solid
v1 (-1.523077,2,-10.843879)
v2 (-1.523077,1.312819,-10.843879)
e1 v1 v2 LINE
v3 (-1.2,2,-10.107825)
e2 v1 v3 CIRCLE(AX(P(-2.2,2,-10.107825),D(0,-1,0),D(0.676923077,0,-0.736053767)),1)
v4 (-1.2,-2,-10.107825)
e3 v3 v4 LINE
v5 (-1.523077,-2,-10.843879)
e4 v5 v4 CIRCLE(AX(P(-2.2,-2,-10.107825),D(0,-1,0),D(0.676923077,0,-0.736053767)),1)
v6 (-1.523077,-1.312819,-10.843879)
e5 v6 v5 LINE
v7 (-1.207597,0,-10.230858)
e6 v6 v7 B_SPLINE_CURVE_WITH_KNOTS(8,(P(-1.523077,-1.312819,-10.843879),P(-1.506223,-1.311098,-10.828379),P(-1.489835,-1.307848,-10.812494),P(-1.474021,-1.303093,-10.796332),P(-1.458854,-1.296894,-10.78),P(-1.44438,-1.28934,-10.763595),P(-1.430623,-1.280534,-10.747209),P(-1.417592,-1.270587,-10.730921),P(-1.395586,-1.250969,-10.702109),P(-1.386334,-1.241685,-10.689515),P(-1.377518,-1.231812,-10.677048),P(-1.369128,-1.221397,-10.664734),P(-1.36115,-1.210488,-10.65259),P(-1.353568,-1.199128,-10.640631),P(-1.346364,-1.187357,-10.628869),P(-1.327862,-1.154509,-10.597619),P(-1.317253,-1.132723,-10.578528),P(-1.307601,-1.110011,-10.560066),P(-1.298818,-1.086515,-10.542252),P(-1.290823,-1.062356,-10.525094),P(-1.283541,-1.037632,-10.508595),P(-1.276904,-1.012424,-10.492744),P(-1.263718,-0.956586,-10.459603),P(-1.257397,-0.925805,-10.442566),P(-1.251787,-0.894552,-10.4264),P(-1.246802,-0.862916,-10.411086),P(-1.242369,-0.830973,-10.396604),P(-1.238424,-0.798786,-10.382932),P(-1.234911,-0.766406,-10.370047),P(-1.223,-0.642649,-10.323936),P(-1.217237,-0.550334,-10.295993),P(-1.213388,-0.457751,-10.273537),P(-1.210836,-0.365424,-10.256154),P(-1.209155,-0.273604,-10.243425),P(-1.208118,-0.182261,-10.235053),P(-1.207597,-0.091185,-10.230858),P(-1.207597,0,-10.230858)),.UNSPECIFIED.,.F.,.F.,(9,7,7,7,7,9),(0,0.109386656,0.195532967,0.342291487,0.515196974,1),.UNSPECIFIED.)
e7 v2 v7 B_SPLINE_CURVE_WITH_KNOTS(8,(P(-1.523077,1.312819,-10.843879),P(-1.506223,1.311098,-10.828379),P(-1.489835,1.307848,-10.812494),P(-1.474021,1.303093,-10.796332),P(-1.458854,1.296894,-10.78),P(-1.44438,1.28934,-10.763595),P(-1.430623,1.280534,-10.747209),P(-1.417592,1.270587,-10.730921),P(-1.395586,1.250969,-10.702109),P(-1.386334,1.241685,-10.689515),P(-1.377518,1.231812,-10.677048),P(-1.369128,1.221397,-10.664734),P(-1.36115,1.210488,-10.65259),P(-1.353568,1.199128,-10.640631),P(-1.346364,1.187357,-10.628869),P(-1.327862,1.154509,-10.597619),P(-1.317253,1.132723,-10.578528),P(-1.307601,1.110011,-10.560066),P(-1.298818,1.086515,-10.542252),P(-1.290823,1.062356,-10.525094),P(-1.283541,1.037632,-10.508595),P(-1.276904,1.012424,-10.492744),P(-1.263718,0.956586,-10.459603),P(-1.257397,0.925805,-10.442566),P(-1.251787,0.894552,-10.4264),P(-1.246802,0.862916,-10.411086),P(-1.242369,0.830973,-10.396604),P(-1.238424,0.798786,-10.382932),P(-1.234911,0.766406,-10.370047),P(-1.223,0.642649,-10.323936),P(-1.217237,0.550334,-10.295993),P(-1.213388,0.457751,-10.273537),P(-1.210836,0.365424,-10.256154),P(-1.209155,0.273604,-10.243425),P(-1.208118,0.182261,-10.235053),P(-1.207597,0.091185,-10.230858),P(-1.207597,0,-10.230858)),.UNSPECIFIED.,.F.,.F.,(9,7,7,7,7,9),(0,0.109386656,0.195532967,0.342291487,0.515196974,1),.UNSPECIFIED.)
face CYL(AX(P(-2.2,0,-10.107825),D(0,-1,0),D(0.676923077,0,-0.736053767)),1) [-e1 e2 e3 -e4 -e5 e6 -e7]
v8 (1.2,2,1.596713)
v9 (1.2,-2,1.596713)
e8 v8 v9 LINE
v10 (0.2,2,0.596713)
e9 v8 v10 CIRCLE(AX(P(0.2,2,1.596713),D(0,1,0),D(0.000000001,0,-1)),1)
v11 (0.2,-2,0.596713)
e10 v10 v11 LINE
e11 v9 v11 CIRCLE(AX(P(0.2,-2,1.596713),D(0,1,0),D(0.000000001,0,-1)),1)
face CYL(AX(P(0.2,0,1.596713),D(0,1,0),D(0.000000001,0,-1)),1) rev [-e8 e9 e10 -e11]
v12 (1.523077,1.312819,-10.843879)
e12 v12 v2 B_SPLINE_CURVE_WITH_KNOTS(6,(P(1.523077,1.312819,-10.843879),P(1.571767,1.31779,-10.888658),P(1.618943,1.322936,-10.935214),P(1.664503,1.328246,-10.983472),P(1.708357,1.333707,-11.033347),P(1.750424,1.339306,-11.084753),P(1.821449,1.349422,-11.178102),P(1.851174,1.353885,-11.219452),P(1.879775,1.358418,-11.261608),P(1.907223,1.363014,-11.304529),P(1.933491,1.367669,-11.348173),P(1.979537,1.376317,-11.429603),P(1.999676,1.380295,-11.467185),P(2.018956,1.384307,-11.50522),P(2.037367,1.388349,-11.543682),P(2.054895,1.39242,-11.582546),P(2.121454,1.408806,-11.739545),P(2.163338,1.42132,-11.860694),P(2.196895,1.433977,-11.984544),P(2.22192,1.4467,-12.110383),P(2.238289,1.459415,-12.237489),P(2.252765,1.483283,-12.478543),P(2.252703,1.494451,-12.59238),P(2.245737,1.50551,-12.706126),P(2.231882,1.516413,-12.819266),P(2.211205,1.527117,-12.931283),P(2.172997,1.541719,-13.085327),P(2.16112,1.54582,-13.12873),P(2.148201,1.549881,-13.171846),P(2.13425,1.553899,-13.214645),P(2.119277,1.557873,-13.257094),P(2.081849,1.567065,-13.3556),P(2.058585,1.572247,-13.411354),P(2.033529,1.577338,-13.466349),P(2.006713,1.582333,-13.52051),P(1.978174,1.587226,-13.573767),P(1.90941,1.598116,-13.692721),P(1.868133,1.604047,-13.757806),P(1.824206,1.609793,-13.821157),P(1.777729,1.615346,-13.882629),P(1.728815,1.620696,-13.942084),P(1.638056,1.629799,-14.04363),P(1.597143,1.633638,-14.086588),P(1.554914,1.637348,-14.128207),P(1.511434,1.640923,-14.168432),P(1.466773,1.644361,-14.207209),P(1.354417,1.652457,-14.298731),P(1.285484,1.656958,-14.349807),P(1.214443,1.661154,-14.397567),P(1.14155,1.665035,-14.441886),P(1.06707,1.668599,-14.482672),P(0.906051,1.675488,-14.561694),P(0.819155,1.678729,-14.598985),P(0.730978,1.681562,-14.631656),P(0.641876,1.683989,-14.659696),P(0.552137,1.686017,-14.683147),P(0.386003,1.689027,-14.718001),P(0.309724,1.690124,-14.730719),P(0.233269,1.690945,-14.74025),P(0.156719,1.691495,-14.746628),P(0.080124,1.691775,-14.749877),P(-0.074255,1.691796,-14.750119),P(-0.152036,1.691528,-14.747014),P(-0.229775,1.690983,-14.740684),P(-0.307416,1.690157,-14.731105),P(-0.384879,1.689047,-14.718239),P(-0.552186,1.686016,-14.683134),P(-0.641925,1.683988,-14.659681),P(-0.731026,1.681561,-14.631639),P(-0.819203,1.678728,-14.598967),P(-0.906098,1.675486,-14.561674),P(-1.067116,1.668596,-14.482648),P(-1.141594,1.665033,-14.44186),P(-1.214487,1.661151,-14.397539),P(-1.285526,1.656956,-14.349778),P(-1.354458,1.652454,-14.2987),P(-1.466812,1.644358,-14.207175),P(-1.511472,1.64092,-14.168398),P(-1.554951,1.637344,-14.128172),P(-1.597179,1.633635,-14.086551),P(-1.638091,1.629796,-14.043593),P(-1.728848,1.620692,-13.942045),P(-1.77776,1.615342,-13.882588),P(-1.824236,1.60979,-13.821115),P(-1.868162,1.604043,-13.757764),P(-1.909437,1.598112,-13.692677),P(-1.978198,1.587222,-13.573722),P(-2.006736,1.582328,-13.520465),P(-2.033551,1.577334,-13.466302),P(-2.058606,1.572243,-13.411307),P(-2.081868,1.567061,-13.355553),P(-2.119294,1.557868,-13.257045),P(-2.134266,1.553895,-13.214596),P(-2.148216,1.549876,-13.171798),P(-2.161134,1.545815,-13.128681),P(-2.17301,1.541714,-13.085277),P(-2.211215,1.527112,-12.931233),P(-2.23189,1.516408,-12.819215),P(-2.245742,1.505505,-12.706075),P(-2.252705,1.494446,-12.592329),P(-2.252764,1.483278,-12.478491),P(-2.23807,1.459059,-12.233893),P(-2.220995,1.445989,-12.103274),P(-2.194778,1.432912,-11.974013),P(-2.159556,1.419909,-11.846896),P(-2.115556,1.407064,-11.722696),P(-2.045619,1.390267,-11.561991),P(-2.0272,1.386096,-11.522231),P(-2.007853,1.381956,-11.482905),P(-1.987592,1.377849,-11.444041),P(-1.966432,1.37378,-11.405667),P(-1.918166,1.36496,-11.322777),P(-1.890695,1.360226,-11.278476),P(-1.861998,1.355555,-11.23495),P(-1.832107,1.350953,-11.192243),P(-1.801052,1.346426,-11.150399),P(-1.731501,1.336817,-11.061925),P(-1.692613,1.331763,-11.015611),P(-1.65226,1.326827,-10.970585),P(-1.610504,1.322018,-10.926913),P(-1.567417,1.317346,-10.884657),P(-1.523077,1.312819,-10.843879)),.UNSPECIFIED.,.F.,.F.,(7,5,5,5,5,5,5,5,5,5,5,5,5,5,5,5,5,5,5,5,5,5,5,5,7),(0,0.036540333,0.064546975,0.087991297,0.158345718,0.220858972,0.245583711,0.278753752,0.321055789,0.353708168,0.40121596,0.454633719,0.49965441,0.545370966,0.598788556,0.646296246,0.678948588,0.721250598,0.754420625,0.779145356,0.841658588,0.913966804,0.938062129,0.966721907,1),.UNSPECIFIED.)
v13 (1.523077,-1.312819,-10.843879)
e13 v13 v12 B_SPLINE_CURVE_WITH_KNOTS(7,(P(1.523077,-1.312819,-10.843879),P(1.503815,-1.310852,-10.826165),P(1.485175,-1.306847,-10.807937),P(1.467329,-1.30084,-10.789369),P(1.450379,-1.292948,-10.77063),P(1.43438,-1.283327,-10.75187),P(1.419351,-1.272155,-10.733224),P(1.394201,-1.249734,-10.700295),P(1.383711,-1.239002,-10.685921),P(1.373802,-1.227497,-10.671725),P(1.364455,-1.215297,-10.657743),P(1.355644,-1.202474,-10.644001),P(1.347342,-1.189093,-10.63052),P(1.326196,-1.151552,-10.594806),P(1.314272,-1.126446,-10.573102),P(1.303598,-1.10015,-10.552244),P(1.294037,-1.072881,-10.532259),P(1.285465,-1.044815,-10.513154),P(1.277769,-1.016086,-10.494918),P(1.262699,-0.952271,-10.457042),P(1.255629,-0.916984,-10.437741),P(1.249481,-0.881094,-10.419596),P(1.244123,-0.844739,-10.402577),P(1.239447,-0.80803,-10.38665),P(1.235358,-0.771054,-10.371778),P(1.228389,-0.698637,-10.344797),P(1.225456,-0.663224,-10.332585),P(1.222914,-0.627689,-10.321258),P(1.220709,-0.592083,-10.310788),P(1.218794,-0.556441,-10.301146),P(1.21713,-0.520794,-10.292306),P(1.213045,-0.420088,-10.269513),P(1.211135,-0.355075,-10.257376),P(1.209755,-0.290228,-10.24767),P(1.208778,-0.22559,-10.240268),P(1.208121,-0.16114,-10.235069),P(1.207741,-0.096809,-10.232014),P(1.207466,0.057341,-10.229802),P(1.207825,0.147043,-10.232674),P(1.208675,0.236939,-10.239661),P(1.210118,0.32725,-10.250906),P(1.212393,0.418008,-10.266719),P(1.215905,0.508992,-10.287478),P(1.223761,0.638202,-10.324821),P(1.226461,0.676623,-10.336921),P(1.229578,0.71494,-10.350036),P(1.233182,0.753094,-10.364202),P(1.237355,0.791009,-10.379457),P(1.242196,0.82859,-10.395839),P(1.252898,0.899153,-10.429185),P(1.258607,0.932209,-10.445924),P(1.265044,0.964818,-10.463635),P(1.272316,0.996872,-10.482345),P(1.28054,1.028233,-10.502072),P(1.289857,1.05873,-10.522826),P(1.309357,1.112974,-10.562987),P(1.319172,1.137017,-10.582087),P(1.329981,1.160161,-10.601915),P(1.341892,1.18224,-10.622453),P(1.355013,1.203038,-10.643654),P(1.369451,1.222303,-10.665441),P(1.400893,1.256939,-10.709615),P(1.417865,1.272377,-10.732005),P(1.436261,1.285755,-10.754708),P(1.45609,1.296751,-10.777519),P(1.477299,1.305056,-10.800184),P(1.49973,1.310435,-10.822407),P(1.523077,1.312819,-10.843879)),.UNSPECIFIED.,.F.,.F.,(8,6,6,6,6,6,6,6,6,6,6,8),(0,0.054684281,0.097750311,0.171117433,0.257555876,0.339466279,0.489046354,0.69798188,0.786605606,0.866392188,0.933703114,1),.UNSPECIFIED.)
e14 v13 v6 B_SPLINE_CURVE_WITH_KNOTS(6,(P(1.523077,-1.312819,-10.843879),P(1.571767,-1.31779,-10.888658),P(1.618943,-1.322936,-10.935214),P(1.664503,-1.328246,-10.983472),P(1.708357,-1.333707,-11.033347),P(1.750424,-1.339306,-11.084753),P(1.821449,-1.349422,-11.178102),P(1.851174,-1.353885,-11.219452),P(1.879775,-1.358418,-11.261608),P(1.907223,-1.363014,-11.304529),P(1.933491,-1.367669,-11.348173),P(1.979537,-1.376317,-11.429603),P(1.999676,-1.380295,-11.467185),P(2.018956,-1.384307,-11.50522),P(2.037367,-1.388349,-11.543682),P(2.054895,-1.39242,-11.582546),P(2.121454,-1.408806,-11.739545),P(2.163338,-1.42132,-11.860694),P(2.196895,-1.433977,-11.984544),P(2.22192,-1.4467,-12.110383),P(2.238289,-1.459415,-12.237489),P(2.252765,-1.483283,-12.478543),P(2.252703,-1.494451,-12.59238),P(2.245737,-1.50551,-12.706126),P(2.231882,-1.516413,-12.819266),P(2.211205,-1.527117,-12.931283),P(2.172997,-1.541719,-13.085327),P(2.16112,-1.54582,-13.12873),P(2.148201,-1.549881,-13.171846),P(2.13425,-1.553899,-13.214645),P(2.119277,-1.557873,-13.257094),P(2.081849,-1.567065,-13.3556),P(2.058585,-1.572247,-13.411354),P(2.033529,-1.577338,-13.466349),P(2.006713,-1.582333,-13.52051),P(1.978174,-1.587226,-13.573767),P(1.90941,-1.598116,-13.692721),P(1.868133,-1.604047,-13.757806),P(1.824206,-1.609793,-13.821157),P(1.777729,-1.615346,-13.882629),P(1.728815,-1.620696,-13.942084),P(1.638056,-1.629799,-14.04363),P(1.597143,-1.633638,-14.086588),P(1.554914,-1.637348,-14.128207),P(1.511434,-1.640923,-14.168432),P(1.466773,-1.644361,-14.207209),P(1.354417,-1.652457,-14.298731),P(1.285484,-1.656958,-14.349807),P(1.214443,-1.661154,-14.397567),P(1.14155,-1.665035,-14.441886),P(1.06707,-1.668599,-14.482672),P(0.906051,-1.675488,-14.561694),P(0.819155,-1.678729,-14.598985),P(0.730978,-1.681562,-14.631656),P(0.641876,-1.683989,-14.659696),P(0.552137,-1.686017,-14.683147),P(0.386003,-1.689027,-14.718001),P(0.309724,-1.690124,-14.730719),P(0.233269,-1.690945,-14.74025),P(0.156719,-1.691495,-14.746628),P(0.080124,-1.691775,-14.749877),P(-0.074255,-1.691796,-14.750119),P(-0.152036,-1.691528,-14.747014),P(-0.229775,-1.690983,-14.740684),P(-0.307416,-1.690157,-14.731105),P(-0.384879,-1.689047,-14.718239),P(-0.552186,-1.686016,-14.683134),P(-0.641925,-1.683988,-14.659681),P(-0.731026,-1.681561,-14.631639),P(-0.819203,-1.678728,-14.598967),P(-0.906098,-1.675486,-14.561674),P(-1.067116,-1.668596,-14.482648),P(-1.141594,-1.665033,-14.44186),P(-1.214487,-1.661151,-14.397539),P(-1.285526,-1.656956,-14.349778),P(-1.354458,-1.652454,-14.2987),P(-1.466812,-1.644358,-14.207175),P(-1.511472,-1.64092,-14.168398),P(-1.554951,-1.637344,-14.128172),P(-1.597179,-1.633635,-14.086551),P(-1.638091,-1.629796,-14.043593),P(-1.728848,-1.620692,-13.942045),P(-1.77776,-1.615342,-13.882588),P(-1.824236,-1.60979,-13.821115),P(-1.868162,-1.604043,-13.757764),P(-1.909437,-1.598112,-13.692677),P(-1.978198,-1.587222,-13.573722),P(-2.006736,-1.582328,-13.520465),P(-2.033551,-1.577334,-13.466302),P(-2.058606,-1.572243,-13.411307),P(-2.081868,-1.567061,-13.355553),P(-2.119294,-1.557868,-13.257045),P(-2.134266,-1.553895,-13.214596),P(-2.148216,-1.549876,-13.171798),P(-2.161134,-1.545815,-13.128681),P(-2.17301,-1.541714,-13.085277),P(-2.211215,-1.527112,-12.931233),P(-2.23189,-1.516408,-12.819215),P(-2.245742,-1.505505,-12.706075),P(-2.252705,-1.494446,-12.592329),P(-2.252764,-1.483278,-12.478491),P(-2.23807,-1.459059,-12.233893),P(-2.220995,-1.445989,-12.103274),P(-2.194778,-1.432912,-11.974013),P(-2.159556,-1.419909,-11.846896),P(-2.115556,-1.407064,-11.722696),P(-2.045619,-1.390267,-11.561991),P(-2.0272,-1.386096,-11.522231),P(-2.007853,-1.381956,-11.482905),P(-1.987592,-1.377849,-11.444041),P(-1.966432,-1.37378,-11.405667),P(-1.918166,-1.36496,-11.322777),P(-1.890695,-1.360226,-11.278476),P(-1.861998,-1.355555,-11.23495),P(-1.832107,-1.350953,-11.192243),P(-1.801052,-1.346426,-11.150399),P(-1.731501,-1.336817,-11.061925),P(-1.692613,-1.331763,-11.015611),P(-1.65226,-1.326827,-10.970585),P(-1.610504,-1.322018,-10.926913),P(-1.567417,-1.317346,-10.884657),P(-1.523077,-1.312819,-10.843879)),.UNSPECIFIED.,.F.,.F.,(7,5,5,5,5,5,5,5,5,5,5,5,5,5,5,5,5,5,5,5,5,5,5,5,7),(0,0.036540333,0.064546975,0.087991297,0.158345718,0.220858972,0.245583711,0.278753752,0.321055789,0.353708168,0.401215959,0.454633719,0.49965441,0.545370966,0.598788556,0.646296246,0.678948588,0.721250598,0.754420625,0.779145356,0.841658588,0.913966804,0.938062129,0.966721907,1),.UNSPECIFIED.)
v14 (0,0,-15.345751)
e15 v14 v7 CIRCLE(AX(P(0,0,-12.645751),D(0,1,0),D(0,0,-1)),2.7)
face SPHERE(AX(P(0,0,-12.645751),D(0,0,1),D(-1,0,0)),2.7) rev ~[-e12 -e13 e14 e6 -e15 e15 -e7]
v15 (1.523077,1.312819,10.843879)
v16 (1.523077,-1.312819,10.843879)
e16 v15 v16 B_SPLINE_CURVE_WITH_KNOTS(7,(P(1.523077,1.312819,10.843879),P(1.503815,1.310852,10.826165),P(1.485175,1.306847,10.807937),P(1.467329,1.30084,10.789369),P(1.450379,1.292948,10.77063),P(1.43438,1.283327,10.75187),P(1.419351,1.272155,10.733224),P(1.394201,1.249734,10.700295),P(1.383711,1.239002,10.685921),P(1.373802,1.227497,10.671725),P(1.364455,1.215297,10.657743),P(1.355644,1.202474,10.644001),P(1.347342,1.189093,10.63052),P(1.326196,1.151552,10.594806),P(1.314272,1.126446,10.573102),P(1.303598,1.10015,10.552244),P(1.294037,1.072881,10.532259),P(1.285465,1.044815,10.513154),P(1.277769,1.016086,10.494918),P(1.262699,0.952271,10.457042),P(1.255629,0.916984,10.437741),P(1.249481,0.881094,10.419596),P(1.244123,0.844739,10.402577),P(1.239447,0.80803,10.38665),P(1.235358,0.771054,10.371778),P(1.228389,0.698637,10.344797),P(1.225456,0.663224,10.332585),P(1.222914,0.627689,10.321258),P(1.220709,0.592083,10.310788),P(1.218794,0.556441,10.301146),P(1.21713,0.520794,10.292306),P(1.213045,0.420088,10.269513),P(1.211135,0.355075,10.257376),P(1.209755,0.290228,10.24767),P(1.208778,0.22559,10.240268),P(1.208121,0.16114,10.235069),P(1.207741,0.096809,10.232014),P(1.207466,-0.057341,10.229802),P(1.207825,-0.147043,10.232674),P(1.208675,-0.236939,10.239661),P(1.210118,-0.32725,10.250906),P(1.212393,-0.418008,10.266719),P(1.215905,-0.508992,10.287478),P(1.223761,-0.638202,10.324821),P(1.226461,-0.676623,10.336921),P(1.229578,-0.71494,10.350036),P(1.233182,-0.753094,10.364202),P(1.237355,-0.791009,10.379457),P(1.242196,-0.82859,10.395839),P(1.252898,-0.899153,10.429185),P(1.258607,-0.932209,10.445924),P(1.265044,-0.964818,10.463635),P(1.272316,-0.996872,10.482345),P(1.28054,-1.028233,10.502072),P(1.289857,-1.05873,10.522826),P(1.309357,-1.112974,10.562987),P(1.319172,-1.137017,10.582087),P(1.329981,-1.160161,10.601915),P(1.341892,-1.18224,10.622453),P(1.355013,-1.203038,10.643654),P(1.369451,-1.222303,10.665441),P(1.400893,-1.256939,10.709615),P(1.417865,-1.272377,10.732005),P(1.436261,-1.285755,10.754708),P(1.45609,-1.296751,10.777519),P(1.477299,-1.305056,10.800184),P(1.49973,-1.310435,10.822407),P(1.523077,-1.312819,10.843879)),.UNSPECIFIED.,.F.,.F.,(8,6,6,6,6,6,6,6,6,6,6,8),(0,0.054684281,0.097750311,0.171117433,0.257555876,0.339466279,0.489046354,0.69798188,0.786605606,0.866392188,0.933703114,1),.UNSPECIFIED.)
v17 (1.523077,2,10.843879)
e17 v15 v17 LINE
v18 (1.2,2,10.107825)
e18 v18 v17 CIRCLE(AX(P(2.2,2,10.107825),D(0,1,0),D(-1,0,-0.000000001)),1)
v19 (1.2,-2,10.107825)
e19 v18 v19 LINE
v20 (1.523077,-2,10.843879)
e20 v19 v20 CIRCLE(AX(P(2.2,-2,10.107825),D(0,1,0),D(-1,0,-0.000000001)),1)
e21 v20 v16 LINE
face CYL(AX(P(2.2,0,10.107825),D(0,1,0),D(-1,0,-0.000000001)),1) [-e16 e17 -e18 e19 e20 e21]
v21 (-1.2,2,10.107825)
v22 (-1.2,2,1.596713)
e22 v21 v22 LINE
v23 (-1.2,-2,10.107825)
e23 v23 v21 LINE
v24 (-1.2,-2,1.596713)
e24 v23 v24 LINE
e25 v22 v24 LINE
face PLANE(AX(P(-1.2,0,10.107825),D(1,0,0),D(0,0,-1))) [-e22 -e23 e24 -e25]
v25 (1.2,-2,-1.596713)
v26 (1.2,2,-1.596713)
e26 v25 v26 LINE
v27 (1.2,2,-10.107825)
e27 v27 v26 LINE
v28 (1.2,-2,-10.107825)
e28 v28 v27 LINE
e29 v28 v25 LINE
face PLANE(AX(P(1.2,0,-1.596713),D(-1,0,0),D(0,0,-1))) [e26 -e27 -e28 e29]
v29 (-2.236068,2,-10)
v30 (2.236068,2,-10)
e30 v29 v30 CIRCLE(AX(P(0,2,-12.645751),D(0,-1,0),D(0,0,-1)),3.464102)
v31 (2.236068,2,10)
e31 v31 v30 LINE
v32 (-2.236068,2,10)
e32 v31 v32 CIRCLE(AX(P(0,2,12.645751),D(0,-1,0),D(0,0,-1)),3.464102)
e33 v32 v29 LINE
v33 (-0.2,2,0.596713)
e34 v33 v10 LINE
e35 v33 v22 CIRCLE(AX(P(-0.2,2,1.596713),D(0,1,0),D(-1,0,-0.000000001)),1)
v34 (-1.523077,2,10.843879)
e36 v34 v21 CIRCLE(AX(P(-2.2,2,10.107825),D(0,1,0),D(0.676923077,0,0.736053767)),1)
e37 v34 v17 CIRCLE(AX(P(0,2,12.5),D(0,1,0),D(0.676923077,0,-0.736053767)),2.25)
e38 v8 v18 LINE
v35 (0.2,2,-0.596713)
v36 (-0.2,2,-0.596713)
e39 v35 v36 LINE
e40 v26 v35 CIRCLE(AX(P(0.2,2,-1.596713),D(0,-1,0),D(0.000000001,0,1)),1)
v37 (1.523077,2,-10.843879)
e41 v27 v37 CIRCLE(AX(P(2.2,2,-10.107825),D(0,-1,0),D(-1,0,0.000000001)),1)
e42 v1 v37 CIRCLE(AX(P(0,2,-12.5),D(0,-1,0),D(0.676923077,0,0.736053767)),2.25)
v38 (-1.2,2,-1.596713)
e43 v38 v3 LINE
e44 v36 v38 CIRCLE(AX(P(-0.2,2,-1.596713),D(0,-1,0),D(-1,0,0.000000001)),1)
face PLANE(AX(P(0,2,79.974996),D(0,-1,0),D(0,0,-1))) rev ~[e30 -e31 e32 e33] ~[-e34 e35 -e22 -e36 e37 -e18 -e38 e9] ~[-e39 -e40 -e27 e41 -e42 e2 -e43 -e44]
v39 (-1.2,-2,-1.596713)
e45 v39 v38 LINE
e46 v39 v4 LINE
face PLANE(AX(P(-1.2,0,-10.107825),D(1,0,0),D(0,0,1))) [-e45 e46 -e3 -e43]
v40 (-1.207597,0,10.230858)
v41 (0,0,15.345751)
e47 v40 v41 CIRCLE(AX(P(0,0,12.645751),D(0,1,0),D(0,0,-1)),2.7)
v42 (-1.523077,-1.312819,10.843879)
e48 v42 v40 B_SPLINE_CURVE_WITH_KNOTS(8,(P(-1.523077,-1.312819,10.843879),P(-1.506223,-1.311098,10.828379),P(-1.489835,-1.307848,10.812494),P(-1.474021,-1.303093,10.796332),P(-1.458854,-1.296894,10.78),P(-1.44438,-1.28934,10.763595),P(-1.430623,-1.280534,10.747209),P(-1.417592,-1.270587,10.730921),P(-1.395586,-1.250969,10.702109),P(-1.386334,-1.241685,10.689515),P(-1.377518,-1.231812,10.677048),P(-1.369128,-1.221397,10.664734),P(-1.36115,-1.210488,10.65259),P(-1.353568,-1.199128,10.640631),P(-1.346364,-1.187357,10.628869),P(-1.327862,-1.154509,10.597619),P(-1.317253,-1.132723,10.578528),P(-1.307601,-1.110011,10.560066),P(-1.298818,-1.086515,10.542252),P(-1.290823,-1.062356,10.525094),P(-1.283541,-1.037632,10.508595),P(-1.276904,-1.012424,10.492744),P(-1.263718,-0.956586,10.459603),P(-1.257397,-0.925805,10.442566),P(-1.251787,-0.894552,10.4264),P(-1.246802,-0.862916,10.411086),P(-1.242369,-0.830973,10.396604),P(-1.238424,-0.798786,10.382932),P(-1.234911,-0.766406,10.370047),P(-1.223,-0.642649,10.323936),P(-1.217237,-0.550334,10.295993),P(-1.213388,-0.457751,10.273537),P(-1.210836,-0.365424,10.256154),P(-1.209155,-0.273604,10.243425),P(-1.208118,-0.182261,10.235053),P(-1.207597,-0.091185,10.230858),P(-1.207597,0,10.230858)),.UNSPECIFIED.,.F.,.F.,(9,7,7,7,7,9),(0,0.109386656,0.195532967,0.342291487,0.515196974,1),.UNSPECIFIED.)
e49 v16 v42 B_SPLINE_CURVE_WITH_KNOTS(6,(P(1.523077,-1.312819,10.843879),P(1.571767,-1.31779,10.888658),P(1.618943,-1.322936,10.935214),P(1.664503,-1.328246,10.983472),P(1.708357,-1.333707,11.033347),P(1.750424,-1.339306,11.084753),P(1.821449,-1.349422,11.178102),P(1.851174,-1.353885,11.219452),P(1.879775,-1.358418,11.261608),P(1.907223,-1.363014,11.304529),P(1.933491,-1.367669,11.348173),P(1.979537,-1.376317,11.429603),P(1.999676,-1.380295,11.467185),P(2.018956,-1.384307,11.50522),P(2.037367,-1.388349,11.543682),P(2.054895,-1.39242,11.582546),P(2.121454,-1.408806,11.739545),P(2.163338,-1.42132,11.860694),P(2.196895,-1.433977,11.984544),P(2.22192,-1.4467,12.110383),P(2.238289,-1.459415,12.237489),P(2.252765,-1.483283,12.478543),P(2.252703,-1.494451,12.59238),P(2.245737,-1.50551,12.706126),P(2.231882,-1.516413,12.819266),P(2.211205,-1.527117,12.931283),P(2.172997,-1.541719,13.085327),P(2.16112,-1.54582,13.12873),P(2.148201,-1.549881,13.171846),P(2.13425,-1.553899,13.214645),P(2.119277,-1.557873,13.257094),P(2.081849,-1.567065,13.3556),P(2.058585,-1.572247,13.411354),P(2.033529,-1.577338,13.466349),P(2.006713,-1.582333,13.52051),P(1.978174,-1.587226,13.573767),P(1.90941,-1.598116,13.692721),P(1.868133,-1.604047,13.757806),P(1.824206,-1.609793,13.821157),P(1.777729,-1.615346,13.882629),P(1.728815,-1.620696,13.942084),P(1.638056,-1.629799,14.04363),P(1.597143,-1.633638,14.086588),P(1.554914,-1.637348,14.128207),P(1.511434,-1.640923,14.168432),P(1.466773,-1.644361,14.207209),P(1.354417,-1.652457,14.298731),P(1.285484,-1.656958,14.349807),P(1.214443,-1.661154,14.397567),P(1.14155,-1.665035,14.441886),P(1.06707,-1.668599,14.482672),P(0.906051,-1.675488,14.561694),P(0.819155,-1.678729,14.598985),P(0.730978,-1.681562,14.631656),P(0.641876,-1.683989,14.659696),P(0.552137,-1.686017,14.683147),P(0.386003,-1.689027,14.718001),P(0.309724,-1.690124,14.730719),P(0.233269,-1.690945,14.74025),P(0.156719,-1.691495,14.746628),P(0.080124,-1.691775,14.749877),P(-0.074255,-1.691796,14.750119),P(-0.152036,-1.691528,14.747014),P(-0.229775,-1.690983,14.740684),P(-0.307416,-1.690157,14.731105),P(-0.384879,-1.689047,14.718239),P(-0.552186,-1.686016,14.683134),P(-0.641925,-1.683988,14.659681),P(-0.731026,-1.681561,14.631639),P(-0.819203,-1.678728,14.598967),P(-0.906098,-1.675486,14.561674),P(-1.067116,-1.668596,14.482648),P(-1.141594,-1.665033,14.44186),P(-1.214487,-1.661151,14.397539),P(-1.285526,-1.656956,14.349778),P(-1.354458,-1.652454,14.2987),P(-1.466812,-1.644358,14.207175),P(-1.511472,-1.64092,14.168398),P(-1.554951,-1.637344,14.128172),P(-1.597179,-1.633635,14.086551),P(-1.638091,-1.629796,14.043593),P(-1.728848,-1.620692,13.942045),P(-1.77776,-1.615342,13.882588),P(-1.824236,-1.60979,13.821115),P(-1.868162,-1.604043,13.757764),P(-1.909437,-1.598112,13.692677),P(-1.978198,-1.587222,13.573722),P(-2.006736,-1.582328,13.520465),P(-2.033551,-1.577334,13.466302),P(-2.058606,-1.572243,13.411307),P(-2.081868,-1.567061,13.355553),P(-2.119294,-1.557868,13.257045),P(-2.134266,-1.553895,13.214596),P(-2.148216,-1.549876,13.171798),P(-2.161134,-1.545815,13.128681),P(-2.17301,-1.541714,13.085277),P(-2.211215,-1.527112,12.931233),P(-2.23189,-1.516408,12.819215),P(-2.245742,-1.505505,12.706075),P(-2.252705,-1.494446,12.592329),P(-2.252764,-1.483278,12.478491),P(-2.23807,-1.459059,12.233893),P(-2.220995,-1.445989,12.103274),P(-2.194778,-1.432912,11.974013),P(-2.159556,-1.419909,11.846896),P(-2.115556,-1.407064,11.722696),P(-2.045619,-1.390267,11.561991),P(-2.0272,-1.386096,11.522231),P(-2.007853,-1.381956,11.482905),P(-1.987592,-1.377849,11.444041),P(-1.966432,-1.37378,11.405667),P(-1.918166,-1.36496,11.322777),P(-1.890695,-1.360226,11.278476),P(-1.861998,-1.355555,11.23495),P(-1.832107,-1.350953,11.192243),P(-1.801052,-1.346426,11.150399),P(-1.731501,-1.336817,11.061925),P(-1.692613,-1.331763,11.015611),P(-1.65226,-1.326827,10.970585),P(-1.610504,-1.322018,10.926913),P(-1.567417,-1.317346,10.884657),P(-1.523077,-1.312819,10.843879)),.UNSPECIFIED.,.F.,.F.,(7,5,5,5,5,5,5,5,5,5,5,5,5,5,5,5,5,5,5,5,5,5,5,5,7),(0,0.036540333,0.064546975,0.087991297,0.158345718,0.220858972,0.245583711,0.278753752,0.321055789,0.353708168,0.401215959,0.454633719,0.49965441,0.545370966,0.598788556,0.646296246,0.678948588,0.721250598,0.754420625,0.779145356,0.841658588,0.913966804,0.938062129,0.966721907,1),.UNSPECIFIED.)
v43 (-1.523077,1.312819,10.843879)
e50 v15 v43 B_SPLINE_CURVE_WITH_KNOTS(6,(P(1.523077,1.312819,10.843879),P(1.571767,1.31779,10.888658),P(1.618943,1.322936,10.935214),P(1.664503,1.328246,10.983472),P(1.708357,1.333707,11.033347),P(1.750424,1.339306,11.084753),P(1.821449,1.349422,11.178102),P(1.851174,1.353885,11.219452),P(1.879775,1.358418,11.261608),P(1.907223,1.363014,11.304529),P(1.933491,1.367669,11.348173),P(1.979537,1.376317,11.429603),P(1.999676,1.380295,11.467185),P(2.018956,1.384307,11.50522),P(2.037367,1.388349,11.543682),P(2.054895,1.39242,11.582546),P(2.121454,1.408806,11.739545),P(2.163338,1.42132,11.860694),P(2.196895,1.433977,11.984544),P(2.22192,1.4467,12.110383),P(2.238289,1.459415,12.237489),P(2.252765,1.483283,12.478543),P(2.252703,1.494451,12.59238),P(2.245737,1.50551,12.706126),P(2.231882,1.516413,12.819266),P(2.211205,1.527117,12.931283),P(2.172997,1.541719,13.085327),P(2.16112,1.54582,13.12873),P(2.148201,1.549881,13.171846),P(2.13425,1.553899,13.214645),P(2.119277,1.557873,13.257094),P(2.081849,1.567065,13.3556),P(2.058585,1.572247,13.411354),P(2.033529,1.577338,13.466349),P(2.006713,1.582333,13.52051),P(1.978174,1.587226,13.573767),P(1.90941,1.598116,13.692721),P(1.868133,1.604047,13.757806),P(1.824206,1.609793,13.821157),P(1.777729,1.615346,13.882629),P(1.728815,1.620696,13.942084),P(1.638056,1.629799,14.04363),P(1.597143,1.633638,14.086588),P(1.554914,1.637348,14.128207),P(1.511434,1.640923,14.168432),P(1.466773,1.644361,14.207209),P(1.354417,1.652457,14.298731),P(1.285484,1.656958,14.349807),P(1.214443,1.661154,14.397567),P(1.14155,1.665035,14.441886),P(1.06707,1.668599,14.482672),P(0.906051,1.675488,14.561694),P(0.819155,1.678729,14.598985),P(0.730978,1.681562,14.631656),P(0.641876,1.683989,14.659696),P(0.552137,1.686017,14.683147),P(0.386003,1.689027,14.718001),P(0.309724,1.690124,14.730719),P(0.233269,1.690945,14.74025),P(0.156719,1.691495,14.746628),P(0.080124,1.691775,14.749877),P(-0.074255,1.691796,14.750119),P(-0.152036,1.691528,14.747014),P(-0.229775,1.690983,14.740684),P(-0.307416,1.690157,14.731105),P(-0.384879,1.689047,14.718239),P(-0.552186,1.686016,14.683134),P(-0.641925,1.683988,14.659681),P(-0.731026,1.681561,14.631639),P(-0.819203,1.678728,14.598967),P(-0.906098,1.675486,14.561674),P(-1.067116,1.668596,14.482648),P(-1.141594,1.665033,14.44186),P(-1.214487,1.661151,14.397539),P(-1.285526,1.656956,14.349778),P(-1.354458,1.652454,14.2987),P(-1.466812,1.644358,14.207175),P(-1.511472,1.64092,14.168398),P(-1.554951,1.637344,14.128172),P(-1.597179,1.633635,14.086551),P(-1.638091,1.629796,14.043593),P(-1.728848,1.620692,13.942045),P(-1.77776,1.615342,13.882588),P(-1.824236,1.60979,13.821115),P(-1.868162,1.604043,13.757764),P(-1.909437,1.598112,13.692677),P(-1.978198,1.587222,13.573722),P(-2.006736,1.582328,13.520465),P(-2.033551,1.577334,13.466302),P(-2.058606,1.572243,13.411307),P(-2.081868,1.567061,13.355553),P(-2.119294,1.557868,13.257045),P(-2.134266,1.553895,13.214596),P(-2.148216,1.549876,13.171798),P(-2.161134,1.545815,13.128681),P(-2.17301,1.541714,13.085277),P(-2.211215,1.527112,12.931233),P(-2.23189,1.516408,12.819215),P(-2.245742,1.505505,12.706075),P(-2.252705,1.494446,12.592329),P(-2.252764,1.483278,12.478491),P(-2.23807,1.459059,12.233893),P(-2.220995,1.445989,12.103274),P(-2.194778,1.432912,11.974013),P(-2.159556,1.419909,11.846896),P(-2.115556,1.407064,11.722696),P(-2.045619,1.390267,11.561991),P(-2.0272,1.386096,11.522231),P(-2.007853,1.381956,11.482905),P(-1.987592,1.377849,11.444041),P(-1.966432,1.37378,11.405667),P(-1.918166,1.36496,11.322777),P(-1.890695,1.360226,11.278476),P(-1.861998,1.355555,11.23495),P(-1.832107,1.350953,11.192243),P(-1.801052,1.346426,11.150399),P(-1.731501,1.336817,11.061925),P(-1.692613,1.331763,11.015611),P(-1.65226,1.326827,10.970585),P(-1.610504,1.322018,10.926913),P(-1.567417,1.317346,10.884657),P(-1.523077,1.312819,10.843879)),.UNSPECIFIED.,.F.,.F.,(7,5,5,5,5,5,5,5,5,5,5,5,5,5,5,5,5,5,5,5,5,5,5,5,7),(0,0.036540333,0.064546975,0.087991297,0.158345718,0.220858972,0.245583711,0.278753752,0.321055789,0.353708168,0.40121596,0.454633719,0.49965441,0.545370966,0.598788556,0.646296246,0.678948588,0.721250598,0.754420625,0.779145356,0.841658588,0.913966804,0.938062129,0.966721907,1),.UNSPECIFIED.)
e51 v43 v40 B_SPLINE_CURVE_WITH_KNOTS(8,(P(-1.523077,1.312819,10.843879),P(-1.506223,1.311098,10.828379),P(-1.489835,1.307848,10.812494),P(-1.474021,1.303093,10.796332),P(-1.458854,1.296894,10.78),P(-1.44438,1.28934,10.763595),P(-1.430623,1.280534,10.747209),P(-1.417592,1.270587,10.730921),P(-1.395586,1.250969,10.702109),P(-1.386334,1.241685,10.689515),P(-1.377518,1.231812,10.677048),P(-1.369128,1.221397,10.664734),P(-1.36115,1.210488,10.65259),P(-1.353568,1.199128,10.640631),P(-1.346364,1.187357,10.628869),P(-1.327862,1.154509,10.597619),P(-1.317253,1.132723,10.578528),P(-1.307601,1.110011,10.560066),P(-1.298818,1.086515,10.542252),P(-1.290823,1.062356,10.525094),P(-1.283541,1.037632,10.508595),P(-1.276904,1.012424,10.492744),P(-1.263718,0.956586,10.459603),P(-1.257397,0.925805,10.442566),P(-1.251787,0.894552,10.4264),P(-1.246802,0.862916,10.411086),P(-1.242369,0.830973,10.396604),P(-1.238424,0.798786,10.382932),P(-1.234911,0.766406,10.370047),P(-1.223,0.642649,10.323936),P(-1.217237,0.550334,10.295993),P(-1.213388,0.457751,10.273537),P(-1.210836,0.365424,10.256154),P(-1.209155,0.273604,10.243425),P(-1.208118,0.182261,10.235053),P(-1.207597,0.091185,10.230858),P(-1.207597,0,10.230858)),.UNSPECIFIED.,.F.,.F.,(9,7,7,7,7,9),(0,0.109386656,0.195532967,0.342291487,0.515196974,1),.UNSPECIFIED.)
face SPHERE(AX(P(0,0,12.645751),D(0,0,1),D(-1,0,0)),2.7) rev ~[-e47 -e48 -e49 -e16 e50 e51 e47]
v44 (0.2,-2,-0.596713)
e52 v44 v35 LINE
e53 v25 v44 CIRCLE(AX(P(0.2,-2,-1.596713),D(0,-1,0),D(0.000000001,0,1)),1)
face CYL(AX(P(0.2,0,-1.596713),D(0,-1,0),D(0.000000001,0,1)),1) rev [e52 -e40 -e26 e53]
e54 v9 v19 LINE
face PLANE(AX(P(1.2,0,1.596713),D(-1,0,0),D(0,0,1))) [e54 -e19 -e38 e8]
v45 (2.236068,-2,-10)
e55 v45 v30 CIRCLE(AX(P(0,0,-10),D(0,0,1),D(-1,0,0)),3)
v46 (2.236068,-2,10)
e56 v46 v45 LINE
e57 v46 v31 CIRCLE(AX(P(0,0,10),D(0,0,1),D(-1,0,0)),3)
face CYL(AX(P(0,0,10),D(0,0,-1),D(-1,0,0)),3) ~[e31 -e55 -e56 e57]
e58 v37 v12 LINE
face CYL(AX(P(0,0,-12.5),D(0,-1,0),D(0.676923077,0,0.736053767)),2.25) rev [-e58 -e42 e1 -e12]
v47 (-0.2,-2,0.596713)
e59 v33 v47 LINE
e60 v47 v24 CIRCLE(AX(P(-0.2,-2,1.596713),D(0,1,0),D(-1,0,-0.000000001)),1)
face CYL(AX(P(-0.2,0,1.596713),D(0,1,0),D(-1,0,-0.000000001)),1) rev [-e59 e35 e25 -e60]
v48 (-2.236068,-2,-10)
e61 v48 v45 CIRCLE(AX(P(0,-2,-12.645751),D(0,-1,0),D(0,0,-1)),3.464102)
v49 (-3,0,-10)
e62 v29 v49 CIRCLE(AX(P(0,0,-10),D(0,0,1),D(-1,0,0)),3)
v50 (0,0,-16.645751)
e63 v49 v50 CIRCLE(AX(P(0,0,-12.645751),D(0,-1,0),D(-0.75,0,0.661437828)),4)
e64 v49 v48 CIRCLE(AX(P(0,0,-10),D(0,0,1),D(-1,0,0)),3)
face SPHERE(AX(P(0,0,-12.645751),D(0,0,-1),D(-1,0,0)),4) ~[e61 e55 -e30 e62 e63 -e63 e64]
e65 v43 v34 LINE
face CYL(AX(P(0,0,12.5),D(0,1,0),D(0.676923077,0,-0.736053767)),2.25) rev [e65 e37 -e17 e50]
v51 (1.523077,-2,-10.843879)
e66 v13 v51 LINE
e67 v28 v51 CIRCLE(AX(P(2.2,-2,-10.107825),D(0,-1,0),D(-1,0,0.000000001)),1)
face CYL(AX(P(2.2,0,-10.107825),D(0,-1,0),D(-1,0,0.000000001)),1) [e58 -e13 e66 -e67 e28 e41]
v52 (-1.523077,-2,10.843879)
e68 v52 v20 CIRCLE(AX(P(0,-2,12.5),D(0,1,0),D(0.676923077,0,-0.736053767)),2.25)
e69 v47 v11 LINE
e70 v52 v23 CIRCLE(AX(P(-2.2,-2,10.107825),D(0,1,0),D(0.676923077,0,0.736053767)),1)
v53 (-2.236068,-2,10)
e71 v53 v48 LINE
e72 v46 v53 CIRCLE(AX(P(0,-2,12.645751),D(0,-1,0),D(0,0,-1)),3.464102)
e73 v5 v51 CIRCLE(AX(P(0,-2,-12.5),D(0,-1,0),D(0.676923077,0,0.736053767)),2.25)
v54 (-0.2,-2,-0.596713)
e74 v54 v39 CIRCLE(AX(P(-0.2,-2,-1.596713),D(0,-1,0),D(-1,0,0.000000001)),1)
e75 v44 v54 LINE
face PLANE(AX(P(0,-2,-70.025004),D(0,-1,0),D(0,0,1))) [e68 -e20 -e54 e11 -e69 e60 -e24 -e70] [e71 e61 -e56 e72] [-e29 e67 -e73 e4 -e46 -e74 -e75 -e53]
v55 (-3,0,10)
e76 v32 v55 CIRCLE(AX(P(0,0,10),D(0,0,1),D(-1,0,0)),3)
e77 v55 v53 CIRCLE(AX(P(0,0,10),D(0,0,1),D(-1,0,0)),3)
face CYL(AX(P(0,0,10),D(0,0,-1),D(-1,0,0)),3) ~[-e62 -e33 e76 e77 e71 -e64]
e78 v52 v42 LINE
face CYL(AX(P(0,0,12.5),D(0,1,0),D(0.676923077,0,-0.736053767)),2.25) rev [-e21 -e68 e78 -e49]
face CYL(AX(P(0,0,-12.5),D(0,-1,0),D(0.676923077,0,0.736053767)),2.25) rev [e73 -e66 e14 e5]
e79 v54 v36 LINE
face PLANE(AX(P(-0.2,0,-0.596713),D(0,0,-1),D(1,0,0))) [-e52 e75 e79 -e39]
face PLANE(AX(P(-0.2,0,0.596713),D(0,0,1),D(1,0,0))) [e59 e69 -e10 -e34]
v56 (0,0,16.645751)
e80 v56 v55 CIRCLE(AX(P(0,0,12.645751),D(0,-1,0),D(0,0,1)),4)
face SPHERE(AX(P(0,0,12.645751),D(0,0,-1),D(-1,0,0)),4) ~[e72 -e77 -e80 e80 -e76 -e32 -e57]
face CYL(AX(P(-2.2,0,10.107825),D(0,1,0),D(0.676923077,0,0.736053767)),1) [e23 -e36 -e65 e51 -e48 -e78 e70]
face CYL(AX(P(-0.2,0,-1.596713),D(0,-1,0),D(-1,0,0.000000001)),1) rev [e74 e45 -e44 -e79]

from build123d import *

# Parameters (mm, degrees)
CUT_EXTRUDE1_DEPTH = 30
CUT_EXTRUDE2_DEPTH = 30


with BuildPart() as part:
    # Sketch1 → Revolve1 (revolve)
    with BuildSketch(Plane(origin=(0, 0, 0), x_dir=(1, 0, 0), z_dir=(0, 1, 0))):
        with BuildLine():
            Line((-3, -10), (-3, 10))
            ThreePointArc((-3, 10), (-3.645751311, 14.291502622), (0, 16.645751311))
            Line((0, 16.645751311), (0, 15.345751311))
            ThreePointArc((0, 15.345751311), (-2.7, 12.645751311), (0, 9.945751311))
            Line((0, 9.945751311), (0, 8.645751311))
            Line((0, 8.645751311), (0, -8.645751311))
            Line((0, -8.645751311), (0, -9.945751311))
            ThreePointArc((0, -9.945751311), (-2.7, -12.645751311), (0, -15.345751311))
            Line((0, -15.345751311), (0, -16.645751311))
            ThreePointArc((0, -16.645751311), (-3.645751311, -14.291502622), (-3, -10))
        make_face()
    revolve(axis=Axis((0, 0, -91.394122854), (0, 0, 1)))

    # Sketch2 → Cut-Extrude1 (cut, symmetric)
    with BuildSketch(Plane(origin=(0, 0, 0), x_dir=(1, 0, 0), z_dir=(0, 1, 0))):
        with BuildLine():
            Line((-1.2, 10.107825257), (-1.2, 1.596713369))
            ThreePointArc((-1.2, 1.596713369), (-0.907106781, 0.889606588), (-0.2, 0.596713369))
            Line((-0.2, 0.596713369), (0.2, 0.596713369))
            ThreePointArc((0.2, 0.596713369), (0.907106781, 0.889606588), (1.2, 1.596713369))
            Line((1.2, 1.596713369), (1.2, 10.107825257))
            ThreePointArc((1.2, 10.107825257), (1.284324545, 10.509743733), (1.523076923, 10.843879024))
            ThreePointArc((1.523076923, 10.843879024), (0, 14.75), (-1.523076923, 10.843879024))
            ThreePointArc((-1.523076923, 10.843879024), (-1.284324545, 10.509743733), (-1.2, 10.107825257))
        make_face()
        with BuildLine():
            Line((-1.2, -10.107825257), (-1.2, -1.596713369))
            ThreePointArc((-1.2, -1.596713369), (-0.907106781, -0.889606588), (-0.2, -0.596713369))
            Line((-0.2, -0.596713369), (0.2, -0.596713369))
            ThreePointArc((0.2, -0.596713369), (0.907106781, -0.889606588), (1.2, -1.596713369))
            Line((1.2, -1.596713369), (1.2, -10.107825257))
            ThreePointArc((1.2, -10.107825257), (1.284324545, -10.509743733), (1.523076923, -10.843879024))
            ThreePointArc((1.523076923, -10.843879024), (0, -14.75), (-1.523076923, -10.843879024))
            ThreePointArc((-1.523076923, -10.843879024), (-1.284324545, -10.509743733), (-1.2, -10.107825257))
        make_face()
    extrude(amount=CUT_EXTRUDE1_DEPTH, both=True, mode=Mode.SUBTRACT)

    # Sketch3 → Cut-Extrude2 (cut, symmetric)
    with BuildSketch(Plane(origin=(0, 0, 0), x_dir=(0, 0, -1), z_dir=(1, 0, 0))):
        Polygon((0, -2), (70.025003907, -2), (70.025003907, -4), (-79.974996093, -4), (-79.974996093, -2), align=None)
        Polygon((0, 2), (70.025003907, 2), (70.025003907, 4), (-79.974996093, 4), (-79.974996093, 2), align=None)
    extrude(amount=CUT_EXTRUDE2_DEPTH, both=True, mode=Mode.SUBTRACT)


solid = part.part
